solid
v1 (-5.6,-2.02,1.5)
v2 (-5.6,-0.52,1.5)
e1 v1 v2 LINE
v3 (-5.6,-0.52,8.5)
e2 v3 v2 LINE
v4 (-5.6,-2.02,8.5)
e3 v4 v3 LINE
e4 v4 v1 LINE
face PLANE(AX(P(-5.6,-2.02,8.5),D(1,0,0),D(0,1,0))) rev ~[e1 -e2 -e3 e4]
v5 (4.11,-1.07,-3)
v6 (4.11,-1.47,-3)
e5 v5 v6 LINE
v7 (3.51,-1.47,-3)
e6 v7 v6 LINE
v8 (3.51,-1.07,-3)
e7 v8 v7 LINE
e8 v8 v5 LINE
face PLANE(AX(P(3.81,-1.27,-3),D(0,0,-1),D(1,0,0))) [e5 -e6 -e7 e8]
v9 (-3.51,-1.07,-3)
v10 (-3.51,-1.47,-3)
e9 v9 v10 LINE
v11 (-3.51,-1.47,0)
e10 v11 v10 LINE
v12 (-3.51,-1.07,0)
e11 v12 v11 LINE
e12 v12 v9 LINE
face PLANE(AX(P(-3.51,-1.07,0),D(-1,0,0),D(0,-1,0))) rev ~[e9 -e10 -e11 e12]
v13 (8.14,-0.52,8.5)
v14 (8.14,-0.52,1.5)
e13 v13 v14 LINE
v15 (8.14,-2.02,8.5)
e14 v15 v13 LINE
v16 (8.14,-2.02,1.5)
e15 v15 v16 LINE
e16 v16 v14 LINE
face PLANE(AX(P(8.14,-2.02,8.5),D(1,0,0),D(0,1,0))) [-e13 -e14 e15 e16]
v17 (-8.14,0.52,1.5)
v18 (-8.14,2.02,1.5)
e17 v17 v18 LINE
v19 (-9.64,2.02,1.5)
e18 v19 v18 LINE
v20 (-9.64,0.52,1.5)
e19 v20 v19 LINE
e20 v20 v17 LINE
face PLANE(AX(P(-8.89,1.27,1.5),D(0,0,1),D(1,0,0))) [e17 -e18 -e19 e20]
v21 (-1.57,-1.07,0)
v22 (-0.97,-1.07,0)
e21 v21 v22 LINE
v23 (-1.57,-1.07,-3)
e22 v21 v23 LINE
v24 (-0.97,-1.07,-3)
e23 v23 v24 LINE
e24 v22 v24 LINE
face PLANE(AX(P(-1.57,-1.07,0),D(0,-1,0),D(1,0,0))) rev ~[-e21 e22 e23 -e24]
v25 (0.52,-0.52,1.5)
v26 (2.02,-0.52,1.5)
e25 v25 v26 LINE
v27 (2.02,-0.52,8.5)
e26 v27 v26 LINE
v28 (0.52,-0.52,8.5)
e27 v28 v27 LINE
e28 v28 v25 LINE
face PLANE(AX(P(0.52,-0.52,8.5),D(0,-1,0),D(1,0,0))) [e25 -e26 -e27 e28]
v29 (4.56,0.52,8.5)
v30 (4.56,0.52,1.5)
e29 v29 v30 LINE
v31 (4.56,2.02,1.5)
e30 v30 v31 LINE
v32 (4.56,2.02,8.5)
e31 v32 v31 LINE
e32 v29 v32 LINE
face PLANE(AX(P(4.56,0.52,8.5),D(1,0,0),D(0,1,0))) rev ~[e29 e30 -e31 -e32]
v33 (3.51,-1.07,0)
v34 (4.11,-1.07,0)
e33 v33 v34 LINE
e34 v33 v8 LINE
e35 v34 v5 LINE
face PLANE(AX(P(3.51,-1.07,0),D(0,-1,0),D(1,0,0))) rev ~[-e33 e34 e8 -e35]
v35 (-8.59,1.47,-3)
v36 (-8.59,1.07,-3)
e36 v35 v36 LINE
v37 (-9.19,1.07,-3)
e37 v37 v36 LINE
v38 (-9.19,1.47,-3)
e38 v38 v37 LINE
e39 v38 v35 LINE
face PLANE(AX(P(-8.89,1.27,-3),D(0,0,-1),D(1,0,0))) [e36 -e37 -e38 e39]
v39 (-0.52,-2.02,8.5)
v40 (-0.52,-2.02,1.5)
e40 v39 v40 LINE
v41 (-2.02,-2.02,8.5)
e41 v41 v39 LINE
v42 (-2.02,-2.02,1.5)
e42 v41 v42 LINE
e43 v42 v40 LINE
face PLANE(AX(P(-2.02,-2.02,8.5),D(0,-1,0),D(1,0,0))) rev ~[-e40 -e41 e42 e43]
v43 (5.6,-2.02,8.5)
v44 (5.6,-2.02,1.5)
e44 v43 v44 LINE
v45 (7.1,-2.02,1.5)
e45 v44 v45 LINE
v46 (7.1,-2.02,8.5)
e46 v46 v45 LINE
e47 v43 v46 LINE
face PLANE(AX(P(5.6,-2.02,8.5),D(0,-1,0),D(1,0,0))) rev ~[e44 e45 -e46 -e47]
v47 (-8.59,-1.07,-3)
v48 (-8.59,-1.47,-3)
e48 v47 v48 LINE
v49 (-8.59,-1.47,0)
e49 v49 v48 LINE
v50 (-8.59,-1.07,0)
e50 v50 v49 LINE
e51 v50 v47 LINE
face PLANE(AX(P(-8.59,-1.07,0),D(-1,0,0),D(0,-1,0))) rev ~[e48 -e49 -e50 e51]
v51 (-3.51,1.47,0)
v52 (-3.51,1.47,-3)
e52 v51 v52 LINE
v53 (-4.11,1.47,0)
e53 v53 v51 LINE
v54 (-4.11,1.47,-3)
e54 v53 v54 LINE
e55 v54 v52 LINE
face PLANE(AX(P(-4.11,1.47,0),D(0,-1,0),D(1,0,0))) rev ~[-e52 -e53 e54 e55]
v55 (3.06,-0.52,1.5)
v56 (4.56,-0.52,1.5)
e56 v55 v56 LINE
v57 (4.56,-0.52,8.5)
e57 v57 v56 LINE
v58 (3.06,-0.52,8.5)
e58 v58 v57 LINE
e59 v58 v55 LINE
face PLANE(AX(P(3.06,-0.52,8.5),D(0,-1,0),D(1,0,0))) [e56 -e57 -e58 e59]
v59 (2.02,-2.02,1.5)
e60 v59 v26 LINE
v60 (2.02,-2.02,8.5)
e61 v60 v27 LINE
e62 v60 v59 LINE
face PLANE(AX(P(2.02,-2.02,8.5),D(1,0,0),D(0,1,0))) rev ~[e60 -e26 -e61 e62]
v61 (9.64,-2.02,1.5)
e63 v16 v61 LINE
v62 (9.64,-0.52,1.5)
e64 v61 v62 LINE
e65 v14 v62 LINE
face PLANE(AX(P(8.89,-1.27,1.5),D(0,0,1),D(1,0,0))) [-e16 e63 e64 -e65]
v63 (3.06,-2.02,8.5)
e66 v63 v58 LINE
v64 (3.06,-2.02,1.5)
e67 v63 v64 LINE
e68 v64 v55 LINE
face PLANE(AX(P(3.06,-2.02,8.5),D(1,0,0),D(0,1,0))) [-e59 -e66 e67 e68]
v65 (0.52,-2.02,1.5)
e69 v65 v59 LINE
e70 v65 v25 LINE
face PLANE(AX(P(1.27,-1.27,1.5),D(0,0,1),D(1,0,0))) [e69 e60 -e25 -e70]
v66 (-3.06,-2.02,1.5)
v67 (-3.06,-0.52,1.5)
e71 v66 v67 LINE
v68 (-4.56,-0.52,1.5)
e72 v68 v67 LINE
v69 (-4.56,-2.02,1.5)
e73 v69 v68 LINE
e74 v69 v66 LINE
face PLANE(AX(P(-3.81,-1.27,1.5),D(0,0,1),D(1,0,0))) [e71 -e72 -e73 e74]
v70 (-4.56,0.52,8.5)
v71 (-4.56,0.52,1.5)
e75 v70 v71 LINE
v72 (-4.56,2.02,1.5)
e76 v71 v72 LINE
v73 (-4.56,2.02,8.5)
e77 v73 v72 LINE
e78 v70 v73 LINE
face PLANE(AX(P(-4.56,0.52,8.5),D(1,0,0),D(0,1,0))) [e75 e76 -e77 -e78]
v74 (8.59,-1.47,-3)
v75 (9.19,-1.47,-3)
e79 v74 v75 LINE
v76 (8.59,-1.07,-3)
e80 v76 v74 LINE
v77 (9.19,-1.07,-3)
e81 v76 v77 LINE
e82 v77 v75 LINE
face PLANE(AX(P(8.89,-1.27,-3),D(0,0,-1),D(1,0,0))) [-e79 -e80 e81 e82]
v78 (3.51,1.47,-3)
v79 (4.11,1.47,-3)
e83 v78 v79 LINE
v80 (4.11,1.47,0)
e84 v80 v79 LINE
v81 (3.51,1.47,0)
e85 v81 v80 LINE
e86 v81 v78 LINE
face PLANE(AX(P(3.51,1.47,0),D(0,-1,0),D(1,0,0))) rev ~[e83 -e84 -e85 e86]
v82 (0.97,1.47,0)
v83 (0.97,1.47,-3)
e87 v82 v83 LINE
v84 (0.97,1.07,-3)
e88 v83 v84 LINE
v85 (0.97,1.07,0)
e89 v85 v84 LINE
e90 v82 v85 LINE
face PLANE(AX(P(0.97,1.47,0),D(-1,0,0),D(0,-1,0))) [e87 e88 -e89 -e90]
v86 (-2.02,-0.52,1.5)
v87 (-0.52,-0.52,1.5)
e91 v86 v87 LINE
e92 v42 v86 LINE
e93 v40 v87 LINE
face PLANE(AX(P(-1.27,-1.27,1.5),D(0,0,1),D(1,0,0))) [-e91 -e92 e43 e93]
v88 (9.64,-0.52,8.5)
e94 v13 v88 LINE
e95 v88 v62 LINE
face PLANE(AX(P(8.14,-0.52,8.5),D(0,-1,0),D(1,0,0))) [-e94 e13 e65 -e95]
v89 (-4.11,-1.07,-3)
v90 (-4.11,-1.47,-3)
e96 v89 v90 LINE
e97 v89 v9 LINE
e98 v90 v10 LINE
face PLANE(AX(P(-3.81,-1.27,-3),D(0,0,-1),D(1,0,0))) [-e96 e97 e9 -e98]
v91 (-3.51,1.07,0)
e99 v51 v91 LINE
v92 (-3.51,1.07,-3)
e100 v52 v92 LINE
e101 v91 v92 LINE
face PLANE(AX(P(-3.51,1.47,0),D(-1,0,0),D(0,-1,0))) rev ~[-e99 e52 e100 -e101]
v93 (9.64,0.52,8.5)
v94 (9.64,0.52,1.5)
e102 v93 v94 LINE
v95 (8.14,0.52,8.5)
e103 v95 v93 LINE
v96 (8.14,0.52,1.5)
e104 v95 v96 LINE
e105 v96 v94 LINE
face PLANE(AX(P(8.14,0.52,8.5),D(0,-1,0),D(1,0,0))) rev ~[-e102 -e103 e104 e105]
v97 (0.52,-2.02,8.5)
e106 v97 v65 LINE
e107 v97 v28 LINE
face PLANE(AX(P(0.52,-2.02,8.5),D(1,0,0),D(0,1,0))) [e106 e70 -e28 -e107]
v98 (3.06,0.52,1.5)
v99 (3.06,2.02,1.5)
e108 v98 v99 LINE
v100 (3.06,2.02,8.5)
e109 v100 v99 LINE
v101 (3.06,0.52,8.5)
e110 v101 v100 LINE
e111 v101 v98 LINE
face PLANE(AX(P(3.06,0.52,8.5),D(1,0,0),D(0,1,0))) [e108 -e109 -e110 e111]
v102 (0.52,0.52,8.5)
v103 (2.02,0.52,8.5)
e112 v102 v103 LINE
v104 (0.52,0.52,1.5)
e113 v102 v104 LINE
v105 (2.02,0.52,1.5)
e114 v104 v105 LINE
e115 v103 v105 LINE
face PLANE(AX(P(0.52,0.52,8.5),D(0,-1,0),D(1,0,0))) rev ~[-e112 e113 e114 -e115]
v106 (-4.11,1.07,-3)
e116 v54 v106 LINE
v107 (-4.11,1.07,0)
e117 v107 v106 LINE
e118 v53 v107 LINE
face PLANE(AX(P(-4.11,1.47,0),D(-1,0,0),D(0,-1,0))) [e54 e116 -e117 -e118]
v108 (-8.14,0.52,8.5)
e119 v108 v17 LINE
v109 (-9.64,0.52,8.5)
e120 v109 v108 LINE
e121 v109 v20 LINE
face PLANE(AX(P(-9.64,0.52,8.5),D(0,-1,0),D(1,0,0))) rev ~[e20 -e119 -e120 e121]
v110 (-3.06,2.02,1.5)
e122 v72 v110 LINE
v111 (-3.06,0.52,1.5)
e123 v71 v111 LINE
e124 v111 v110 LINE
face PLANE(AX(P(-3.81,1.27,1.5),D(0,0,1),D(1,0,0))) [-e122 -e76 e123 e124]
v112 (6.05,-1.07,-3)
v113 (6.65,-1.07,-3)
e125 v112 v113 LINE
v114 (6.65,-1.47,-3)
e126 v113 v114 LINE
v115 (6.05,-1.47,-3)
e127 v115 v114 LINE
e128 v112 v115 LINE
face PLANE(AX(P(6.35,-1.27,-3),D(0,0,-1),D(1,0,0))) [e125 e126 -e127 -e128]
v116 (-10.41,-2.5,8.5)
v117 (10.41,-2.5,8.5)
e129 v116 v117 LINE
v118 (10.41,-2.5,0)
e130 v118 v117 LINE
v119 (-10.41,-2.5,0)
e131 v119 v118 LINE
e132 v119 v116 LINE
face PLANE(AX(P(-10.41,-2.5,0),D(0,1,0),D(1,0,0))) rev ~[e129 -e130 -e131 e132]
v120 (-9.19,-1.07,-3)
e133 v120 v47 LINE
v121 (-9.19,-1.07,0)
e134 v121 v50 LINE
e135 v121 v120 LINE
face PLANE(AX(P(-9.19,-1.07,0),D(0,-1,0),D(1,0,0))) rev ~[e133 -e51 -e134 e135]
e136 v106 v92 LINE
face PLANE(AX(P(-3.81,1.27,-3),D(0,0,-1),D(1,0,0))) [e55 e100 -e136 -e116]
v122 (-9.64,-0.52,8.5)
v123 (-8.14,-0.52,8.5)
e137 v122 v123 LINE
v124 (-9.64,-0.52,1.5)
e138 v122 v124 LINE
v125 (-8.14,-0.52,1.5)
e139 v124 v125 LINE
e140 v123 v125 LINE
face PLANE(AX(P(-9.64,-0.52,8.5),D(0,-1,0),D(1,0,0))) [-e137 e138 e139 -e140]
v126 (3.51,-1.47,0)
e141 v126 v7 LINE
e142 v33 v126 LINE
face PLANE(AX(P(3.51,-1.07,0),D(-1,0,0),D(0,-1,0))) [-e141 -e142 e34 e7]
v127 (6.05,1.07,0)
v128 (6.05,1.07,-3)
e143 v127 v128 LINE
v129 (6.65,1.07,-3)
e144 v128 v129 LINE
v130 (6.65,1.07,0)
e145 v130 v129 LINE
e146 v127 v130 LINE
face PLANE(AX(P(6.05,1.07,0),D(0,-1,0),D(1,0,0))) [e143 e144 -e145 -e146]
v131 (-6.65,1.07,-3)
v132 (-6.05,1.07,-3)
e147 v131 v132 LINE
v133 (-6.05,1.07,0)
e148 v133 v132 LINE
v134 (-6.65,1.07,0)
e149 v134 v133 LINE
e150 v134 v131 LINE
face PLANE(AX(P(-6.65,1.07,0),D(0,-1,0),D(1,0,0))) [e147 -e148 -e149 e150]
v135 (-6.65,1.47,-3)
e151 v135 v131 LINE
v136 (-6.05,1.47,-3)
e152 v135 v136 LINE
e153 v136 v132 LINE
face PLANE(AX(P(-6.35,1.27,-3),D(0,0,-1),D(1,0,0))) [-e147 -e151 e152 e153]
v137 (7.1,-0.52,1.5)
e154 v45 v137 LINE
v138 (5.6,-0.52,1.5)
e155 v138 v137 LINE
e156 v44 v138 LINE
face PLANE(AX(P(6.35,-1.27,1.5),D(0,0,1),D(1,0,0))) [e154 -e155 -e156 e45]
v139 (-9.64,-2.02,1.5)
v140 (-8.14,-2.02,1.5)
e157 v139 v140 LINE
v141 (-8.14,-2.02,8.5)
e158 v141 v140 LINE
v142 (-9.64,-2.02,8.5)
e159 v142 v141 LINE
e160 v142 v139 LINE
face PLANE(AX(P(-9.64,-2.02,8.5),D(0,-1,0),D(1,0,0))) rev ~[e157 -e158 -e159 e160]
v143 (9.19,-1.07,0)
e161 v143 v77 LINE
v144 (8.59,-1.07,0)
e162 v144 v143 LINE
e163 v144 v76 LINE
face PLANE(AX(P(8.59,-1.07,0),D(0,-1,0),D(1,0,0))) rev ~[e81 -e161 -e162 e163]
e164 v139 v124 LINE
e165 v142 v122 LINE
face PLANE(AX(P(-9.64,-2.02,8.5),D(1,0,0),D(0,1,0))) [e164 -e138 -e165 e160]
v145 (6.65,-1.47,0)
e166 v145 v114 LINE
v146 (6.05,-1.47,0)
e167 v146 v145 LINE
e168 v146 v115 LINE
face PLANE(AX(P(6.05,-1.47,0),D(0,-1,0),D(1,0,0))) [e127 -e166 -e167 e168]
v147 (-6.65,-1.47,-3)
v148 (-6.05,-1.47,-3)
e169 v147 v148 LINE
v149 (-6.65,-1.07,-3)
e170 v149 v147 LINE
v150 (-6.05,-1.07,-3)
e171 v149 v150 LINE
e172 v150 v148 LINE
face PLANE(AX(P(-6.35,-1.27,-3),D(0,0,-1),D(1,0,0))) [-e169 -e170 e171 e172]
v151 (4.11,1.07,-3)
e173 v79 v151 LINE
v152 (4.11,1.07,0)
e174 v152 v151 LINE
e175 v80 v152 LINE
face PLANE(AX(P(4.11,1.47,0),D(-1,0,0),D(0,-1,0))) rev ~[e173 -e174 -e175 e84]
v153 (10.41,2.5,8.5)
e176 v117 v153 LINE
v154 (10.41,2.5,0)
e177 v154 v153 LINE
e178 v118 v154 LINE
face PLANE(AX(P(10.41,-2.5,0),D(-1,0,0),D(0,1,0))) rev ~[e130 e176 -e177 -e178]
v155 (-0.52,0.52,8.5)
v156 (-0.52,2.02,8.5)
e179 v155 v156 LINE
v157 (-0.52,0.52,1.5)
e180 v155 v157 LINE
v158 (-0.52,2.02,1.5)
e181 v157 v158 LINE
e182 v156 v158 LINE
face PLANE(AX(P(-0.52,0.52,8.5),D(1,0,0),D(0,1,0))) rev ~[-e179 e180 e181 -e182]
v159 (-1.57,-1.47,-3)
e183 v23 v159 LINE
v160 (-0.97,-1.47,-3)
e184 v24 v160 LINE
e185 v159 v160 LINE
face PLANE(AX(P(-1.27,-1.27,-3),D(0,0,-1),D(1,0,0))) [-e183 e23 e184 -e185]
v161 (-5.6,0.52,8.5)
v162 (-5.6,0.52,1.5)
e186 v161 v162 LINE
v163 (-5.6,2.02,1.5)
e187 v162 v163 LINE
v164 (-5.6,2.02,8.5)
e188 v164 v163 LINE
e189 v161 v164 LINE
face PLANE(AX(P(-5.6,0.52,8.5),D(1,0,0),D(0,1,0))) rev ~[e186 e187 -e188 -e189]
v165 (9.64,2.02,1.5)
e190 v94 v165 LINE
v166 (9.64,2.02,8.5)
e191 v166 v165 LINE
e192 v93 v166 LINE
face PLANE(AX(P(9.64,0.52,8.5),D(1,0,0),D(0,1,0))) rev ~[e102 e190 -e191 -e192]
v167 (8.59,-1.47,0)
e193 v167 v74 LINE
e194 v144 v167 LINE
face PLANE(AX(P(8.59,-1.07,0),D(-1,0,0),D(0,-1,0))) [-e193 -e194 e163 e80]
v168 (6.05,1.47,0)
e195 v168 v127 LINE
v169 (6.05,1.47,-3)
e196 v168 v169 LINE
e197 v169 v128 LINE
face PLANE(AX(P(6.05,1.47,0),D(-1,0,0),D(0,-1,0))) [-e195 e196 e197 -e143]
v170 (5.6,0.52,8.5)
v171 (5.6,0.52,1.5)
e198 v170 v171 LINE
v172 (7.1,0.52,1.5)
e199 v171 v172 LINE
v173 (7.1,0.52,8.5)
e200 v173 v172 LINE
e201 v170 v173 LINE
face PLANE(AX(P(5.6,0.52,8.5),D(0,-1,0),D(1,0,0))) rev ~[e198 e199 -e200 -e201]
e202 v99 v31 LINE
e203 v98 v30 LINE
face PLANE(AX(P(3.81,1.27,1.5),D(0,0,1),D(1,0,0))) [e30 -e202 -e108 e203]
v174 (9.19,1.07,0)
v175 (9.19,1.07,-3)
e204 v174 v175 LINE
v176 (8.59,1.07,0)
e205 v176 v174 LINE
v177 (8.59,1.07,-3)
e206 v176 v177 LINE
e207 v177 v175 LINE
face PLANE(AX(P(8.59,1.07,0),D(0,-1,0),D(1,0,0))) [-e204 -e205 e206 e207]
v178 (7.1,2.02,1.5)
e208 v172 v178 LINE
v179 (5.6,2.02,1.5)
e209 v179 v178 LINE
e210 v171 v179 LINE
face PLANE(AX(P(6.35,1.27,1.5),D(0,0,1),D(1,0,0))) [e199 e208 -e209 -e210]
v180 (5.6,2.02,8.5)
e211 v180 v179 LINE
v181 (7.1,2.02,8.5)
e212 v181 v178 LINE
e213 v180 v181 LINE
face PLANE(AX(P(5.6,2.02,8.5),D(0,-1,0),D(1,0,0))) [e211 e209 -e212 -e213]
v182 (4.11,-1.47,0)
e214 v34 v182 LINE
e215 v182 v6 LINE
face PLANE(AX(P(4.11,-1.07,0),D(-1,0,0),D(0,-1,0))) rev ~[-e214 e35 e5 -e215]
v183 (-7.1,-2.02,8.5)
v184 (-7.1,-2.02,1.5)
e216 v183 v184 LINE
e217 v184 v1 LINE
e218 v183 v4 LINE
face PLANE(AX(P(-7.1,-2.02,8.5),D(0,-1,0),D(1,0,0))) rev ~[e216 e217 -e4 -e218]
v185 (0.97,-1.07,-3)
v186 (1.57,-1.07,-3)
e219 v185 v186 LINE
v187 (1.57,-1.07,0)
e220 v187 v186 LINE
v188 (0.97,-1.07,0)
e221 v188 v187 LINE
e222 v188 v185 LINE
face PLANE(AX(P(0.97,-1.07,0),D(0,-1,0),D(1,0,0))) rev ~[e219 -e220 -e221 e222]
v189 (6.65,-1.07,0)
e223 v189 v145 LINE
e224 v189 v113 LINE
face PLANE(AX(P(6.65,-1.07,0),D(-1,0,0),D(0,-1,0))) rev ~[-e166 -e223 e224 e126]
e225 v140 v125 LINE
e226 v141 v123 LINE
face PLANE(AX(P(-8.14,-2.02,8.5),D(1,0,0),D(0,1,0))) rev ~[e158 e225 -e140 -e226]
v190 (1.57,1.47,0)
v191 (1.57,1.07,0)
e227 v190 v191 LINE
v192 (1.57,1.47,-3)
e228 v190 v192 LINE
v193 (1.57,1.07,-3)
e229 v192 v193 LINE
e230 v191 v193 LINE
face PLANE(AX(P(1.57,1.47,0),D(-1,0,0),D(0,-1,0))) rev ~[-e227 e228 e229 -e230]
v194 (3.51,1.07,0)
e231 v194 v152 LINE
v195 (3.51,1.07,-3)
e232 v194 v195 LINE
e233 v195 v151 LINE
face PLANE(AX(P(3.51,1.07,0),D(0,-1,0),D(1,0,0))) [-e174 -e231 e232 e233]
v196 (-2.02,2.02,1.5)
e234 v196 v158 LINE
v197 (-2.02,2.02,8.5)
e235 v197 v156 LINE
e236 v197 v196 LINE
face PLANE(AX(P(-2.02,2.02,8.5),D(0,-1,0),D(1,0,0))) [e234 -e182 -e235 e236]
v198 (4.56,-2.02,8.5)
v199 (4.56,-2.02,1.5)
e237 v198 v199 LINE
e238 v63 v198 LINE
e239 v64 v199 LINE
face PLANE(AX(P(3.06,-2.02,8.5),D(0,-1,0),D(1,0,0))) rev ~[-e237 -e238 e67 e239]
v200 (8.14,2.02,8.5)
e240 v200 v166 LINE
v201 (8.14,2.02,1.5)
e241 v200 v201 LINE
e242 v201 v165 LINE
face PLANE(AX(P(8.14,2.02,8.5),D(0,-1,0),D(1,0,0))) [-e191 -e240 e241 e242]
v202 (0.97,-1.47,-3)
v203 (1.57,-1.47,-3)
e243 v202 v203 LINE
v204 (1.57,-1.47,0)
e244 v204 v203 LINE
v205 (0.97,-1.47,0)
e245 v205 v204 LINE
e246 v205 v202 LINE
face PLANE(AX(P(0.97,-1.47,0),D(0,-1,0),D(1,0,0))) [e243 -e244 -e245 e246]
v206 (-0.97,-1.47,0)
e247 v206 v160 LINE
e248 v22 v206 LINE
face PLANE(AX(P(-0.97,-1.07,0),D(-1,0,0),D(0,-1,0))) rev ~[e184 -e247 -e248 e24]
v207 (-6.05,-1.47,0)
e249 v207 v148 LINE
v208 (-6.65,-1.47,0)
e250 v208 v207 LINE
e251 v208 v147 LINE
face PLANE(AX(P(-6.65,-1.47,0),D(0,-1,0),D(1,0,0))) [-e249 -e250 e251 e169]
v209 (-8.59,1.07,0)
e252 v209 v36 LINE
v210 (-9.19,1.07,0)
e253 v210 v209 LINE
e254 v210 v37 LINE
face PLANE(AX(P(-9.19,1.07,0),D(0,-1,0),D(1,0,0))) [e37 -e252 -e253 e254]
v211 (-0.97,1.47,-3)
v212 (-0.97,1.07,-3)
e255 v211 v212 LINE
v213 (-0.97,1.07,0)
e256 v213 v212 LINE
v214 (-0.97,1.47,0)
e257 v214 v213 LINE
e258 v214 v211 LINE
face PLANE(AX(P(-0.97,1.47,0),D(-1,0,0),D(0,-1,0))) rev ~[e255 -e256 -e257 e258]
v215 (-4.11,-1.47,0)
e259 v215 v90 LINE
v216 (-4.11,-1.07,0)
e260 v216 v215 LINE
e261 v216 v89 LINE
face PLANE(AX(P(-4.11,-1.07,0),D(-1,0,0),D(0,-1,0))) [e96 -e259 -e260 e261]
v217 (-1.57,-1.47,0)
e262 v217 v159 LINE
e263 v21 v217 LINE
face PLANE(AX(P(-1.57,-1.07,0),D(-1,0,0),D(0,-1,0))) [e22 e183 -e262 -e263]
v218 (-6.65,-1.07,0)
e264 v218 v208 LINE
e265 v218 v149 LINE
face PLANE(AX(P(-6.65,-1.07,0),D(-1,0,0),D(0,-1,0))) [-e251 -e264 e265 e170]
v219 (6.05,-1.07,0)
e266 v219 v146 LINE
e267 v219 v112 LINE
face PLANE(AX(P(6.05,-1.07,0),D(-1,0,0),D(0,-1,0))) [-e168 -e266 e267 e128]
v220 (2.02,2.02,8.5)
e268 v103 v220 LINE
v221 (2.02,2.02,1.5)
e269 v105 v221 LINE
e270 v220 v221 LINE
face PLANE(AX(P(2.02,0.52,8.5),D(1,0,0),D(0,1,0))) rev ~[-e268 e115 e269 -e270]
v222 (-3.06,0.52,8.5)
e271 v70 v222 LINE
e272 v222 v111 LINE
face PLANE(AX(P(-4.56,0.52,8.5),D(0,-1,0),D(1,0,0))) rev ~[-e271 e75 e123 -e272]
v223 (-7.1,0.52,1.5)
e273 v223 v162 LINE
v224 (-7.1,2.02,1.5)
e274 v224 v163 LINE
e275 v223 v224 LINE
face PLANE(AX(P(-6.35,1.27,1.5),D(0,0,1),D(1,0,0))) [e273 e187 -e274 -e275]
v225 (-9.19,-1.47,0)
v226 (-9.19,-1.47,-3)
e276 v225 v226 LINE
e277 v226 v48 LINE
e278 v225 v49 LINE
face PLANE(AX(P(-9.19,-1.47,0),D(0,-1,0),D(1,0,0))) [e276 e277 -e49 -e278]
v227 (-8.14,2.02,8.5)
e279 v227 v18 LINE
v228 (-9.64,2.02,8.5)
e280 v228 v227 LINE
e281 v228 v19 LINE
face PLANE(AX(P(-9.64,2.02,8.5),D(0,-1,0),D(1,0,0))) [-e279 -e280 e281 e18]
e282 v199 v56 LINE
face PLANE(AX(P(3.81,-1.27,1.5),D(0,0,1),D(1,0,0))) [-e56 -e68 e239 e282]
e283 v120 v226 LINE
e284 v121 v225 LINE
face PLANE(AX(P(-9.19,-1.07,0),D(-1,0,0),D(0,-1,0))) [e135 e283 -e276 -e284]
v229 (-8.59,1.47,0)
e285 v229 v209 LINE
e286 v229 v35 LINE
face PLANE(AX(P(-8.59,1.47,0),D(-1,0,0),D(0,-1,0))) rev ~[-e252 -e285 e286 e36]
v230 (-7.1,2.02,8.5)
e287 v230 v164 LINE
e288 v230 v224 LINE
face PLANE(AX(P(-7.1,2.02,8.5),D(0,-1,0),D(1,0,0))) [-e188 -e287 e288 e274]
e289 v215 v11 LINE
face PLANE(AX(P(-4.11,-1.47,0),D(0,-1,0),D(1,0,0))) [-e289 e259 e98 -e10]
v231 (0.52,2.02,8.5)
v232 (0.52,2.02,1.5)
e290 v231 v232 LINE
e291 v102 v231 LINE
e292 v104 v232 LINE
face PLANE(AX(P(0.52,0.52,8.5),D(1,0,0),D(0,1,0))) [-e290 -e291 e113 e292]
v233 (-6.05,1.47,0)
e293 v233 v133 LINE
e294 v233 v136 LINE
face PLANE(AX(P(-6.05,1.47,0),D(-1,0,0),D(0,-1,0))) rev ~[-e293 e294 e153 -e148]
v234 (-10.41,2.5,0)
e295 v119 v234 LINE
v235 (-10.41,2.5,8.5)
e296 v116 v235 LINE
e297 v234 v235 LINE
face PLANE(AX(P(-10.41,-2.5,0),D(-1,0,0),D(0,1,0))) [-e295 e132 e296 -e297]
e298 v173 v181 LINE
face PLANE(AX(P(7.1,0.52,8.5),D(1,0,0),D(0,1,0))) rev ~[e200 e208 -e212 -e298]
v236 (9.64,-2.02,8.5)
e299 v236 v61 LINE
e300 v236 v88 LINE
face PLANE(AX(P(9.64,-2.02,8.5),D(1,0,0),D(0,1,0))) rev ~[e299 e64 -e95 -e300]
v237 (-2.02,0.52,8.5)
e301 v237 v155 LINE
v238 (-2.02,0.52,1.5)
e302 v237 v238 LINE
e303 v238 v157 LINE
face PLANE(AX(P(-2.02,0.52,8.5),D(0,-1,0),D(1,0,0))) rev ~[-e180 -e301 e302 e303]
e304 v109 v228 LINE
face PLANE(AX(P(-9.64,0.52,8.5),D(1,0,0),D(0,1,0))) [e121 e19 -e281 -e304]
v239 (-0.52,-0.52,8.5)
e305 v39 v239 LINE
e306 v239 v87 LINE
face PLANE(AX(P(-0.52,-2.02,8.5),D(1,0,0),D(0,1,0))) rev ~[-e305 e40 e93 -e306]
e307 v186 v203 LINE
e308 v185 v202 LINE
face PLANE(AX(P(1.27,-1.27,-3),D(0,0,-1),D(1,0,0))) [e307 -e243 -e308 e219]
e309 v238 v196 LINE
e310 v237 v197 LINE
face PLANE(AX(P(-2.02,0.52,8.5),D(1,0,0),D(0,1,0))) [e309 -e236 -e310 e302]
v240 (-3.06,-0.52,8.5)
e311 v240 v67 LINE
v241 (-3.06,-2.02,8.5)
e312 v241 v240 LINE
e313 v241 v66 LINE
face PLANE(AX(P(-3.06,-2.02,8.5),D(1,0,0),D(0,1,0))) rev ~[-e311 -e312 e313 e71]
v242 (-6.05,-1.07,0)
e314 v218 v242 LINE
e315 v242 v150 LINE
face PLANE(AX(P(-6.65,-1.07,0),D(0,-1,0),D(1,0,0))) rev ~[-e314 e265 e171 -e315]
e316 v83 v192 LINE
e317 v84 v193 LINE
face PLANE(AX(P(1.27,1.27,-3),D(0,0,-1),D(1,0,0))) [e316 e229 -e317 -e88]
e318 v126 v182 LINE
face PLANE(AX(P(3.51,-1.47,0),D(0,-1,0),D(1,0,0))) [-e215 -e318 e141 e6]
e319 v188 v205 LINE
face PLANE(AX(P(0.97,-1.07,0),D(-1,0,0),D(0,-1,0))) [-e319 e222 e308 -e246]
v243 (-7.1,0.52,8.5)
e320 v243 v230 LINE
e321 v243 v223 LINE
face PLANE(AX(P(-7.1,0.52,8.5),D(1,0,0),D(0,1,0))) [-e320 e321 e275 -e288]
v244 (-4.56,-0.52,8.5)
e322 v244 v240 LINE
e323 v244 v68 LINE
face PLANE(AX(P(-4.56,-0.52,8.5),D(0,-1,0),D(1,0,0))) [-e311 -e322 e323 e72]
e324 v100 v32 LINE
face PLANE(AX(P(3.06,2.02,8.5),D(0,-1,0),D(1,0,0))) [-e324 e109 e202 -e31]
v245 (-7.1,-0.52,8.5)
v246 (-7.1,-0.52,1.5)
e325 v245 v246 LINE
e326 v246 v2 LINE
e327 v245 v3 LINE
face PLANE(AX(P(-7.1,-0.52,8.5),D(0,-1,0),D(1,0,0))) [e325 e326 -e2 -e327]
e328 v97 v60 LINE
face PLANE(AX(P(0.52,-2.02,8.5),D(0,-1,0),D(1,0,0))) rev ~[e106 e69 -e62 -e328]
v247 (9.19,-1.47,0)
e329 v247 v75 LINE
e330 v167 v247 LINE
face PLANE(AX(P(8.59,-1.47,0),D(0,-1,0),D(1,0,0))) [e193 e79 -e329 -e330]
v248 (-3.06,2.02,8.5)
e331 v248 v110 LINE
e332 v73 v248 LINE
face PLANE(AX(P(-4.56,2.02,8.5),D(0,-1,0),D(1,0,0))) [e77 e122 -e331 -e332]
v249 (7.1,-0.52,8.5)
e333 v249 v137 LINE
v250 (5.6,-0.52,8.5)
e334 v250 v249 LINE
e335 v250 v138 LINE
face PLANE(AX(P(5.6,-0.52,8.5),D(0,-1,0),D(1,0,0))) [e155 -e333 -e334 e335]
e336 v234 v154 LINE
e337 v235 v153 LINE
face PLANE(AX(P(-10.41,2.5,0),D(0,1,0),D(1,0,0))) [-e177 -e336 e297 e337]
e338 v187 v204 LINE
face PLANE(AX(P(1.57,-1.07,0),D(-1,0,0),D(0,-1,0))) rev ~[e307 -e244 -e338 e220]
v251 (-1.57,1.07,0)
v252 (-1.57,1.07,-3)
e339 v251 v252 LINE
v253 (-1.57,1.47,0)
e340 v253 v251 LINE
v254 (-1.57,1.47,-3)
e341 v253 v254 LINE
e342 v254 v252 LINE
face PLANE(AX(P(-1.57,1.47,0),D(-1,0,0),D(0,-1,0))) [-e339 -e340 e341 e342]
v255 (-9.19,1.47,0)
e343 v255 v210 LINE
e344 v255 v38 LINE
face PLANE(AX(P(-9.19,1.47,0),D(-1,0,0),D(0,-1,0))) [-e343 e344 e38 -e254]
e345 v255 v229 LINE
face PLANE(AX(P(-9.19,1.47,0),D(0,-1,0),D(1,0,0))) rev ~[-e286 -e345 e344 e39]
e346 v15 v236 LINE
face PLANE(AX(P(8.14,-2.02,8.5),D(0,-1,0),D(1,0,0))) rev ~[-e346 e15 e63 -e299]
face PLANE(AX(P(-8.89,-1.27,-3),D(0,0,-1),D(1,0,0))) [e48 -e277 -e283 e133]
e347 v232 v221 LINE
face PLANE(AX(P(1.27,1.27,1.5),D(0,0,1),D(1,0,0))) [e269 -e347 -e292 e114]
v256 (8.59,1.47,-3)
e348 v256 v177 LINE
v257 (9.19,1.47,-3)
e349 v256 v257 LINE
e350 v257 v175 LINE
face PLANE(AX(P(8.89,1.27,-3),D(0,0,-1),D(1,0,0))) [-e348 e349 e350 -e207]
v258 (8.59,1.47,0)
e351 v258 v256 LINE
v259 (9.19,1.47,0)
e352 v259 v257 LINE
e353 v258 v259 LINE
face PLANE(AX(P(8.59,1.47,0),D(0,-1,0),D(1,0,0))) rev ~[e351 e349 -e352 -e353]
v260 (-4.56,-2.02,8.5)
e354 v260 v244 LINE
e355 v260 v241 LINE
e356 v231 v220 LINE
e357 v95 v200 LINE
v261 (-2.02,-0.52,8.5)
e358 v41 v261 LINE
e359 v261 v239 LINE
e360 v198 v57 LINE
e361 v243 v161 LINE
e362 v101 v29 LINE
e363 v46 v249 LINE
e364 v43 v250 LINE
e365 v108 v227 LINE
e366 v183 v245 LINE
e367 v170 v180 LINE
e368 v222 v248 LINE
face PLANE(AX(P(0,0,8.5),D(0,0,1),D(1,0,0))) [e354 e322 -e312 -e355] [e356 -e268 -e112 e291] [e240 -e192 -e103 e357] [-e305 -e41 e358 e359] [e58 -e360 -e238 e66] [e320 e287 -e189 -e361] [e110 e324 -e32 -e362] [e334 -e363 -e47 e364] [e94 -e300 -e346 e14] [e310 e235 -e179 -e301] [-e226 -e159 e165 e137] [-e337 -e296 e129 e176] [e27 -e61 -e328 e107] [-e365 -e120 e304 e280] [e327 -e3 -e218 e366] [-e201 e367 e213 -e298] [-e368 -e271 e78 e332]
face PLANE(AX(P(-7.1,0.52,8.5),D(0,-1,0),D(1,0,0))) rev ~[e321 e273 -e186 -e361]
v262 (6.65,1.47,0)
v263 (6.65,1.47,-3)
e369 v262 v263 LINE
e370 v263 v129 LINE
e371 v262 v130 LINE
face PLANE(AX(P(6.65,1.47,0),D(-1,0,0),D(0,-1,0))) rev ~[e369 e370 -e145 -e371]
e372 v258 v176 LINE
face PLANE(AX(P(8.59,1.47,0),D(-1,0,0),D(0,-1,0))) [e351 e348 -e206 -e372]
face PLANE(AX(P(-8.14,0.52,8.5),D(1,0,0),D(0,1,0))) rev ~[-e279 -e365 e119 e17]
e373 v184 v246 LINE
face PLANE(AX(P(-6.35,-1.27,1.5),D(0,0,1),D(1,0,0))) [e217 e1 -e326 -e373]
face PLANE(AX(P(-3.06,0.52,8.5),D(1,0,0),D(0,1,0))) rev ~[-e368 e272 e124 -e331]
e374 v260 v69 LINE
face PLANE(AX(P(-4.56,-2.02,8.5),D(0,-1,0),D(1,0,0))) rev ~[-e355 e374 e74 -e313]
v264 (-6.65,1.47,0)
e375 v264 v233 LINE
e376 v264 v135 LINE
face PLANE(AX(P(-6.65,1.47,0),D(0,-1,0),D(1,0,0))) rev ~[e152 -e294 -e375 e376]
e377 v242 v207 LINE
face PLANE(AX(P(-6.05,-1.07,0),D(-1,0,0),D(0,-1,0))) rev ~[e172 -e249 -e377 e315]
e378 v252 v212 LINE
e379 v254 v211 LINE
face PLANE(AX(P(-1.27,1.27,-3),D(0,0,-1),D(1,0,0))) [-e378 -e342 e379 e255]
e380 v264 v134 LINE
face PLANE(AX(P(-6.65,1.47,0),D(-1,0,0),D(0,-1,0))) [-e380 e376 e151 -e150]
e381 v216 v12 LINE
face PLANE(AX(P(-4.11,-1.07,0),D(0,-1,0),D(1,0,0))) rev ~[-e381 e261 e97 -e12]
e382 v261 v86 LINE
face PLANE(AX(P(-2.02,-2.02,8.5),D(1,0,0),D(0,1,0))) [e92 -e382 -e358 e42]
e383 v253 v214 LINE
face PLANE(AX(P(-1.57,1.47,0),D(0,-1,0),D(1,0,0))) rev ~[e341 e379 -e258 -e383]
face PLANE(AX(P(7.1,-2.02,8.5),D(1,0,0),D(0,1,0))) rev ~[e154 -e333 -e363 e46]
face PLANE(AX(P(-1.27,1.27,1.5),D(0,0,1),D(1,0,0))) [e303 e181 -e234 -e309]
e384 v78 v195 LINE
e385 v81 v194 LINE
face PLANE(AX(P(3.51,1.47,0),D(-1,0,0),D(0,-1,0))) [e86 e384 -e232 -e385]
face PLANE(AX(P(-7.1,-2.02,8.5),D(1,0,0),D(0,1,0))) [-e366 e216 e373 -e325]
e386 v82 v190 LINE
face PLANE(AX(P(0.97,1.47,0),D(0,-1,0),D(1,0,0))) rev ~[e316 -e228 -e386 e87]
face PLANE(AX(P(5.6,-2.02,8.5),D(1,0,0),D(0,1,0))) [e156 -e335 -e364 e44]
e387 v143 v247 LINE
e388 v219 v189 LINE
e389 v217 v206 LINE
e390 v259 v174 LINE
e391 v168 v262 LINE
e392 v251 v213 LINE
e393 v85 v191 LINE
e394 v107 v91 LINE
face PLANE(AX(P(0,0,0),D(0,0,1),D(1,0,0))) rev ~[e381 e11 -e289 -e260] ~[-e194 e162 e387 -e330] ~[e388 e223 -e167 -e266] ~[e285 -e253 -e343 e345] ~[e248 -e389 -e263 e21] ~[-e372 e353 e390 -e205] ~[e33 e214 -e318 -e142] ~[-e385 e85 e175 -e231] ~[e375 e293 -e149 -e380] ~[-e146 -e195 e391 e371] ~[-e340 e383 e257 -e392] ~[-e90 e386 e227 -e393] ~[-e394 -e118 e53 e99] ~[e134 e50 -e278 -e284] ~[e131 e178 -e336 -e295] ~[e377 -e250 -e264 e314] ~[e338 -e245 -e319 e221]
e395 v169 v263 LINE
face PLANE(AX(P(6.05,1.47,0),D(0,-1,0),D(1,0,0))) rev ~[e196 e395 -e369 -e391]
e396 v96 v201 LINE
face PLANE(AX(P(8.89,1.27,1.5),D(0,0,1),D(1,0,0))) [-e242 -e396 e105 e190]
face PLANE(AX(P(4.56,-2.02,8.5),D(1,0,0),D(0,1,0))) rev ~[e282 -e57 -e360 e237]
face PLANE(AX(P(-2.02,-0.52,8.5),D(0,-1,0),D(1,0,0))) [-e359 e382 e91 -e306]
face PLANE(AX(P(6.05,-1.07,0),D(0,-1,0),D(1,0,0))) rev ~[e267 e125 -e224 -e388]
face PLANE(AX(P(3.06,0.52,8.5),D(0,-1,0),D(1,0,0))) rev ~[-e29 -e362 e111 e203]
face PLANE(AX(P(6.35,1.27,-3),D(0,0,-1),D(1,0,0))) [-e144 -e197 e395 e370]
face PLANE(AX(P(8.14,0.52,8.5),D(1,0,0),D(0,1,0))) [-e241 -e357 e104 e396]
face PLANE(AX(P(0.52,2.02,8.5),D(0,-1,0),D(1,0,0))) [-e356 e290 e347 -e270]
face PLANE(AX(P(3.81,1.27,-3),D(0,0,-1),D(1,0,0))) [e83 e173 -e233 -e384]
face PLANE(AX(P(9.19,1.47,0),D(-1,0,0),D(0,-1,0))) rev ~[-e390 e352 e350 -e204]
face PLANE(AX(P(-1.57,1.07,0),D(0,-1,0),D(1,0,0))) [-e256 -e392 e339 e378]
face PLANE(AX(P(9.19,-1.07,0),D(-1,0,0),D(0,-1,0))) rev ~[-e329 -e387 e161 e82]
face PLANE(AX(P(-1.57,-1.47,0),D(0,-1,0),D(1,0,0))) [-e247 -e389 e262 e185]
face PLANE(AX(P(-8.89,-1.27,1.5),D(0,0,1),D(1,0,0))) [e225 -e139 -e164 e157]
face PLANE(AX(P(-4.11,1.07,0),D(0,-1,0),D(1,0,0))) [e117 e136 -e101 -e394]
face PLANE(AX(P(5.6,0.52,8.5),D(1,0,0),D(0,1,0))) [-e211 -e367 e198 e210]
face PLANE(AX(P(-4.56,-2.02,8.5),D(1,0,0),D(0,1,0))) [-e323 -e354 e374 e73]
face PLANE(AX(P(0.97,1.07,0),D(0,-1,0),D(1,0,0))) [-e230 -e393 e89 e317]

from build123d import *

# Parameters (mm, degrees)
F0_W     = 20.82
F0_H     = 5
F1_DEPTH = 8.5
F2_W     = 1.5
F2_H     = 1.5
F3_DEPTH = 7
F4_W     = 0.6
F4_H     = 0.4
F5_DEPTH = 3


with BuildPart() as f1:
    # F0 (on Top) → F1 (new body)
    with BuildSketch(Plane.XY):
        Rectangle(F0_W, F0_H)
    extrude(amount=F1_DEPTH)

    # F2 (on face) → F3 (cut)
    with BuildSketch(Plane.XY.offset(8.5)):
        with Locations((-8.89, 1.27)):
            Rectangle(F2_W, F2_H)
        with Locations((-8.89, -1.27)):
            Rectangle(F2_W, F2_H)
        with Locations((-6.35, 1.27)):
            Rectangle(F2_W, F2_H)
        with Locations((-6.35, -1.27)):
            Rectangle(F2_W, F2_H)
        with Locations((-3.81, 1.27)):
            Rectangle(F2_W, F2_H)
        with Locations((-3.81, -1.27)):
            Rectangle(F2_W, F2_H)
        with Locations((-1.27, 1.27)):
            Rectangle(F2_W, F2_H)
        with Locations((-1.27, -1.27)):
            Rectangle(F2_W, F2_H)
        with Locations((1.27, 1.27)):
            Rectangle(F2_W, F2_H)
        with Locations((1.27, -1.27)):
            Rectangle(F2_W, F2_H)
        with Locations((3.81, 1.27)):
            Rectangle(F2_W, F2_H)
        with Locations((3.81, -1.27)):
            Rectangle(F2_W, F2_H)
        with Locations((6.35, 1.27)):
            Rectangle(F2_W, F2_H)
        with Locations((6.35, -1.27)):
            Rectangle(F2_W, F2_H)
        with Locations((8.89, 1.27)):
            Rectangle(F2_W, F2_H)
        with Locations((8.89, -1.27)):
            Rectangle(F2_W, F2_H)
    extrude(amount=-F3_DEPTH, mode=Mode.SUBTRACT)

    # F4 (on face) → F5 (join)
    with BuildSketch(Plane(origin=(0, 0, 0), x_dir=(1, 0, 0), z_dir=(0, 0, -1))):
        with Locations((-8.89, 1.27)):
            Rectangle(F4_W, F4_H)
        with Locations((-8.89, -1.27)):
            Rectangle(F4_W, F4_H)
        with Locations((-6.35, 1.27)):
            Rectangle(F4_W, F4_H)
        with Locations((-6.35, -1.27)):
            Rectangle(F4_W, F4_H)
        with Locations((-3.81, 1.27)):
            Rectangle(F4_W, F4_H)
        with Locations((-3.81, -1.27)):
            Rectangle(F4_W, F4_H)
        with Locations((-1.27, 1.27)):
            Rectangle(F4_W, F4_H)
        with Locations((-1.27, -1.27)):
            Rectangle(F4_W, F4_H)
        with Locations((1.27, 1.27)):
            Rectangle(F4_W, F4_H)
        with Locations((1.27, -1.27)):
            Rectangle(F4_W, F4_H)
        with Locations((3.81, 1.27)):
            Rectangle(F4_W, F4_H)
        with Locations((3.81, -1.27)):
            Rectangle(F4_W, F4_H)
        with Locations((6.35, 1.27)):
            Rectangle(F4_W, F4_H)
        with Locations((6.35, -1.27)):
            Rectangle(F4_W, F4_H)
        with Locations((8.89, 1.27)):
            Rectangle(F4_W, F4_H)
        with Locations((8.89, -1.27)):
            Rectangle(F4_W, F4_H)
    extrude(amount=F5_DEPTH)


solid = f1.part
